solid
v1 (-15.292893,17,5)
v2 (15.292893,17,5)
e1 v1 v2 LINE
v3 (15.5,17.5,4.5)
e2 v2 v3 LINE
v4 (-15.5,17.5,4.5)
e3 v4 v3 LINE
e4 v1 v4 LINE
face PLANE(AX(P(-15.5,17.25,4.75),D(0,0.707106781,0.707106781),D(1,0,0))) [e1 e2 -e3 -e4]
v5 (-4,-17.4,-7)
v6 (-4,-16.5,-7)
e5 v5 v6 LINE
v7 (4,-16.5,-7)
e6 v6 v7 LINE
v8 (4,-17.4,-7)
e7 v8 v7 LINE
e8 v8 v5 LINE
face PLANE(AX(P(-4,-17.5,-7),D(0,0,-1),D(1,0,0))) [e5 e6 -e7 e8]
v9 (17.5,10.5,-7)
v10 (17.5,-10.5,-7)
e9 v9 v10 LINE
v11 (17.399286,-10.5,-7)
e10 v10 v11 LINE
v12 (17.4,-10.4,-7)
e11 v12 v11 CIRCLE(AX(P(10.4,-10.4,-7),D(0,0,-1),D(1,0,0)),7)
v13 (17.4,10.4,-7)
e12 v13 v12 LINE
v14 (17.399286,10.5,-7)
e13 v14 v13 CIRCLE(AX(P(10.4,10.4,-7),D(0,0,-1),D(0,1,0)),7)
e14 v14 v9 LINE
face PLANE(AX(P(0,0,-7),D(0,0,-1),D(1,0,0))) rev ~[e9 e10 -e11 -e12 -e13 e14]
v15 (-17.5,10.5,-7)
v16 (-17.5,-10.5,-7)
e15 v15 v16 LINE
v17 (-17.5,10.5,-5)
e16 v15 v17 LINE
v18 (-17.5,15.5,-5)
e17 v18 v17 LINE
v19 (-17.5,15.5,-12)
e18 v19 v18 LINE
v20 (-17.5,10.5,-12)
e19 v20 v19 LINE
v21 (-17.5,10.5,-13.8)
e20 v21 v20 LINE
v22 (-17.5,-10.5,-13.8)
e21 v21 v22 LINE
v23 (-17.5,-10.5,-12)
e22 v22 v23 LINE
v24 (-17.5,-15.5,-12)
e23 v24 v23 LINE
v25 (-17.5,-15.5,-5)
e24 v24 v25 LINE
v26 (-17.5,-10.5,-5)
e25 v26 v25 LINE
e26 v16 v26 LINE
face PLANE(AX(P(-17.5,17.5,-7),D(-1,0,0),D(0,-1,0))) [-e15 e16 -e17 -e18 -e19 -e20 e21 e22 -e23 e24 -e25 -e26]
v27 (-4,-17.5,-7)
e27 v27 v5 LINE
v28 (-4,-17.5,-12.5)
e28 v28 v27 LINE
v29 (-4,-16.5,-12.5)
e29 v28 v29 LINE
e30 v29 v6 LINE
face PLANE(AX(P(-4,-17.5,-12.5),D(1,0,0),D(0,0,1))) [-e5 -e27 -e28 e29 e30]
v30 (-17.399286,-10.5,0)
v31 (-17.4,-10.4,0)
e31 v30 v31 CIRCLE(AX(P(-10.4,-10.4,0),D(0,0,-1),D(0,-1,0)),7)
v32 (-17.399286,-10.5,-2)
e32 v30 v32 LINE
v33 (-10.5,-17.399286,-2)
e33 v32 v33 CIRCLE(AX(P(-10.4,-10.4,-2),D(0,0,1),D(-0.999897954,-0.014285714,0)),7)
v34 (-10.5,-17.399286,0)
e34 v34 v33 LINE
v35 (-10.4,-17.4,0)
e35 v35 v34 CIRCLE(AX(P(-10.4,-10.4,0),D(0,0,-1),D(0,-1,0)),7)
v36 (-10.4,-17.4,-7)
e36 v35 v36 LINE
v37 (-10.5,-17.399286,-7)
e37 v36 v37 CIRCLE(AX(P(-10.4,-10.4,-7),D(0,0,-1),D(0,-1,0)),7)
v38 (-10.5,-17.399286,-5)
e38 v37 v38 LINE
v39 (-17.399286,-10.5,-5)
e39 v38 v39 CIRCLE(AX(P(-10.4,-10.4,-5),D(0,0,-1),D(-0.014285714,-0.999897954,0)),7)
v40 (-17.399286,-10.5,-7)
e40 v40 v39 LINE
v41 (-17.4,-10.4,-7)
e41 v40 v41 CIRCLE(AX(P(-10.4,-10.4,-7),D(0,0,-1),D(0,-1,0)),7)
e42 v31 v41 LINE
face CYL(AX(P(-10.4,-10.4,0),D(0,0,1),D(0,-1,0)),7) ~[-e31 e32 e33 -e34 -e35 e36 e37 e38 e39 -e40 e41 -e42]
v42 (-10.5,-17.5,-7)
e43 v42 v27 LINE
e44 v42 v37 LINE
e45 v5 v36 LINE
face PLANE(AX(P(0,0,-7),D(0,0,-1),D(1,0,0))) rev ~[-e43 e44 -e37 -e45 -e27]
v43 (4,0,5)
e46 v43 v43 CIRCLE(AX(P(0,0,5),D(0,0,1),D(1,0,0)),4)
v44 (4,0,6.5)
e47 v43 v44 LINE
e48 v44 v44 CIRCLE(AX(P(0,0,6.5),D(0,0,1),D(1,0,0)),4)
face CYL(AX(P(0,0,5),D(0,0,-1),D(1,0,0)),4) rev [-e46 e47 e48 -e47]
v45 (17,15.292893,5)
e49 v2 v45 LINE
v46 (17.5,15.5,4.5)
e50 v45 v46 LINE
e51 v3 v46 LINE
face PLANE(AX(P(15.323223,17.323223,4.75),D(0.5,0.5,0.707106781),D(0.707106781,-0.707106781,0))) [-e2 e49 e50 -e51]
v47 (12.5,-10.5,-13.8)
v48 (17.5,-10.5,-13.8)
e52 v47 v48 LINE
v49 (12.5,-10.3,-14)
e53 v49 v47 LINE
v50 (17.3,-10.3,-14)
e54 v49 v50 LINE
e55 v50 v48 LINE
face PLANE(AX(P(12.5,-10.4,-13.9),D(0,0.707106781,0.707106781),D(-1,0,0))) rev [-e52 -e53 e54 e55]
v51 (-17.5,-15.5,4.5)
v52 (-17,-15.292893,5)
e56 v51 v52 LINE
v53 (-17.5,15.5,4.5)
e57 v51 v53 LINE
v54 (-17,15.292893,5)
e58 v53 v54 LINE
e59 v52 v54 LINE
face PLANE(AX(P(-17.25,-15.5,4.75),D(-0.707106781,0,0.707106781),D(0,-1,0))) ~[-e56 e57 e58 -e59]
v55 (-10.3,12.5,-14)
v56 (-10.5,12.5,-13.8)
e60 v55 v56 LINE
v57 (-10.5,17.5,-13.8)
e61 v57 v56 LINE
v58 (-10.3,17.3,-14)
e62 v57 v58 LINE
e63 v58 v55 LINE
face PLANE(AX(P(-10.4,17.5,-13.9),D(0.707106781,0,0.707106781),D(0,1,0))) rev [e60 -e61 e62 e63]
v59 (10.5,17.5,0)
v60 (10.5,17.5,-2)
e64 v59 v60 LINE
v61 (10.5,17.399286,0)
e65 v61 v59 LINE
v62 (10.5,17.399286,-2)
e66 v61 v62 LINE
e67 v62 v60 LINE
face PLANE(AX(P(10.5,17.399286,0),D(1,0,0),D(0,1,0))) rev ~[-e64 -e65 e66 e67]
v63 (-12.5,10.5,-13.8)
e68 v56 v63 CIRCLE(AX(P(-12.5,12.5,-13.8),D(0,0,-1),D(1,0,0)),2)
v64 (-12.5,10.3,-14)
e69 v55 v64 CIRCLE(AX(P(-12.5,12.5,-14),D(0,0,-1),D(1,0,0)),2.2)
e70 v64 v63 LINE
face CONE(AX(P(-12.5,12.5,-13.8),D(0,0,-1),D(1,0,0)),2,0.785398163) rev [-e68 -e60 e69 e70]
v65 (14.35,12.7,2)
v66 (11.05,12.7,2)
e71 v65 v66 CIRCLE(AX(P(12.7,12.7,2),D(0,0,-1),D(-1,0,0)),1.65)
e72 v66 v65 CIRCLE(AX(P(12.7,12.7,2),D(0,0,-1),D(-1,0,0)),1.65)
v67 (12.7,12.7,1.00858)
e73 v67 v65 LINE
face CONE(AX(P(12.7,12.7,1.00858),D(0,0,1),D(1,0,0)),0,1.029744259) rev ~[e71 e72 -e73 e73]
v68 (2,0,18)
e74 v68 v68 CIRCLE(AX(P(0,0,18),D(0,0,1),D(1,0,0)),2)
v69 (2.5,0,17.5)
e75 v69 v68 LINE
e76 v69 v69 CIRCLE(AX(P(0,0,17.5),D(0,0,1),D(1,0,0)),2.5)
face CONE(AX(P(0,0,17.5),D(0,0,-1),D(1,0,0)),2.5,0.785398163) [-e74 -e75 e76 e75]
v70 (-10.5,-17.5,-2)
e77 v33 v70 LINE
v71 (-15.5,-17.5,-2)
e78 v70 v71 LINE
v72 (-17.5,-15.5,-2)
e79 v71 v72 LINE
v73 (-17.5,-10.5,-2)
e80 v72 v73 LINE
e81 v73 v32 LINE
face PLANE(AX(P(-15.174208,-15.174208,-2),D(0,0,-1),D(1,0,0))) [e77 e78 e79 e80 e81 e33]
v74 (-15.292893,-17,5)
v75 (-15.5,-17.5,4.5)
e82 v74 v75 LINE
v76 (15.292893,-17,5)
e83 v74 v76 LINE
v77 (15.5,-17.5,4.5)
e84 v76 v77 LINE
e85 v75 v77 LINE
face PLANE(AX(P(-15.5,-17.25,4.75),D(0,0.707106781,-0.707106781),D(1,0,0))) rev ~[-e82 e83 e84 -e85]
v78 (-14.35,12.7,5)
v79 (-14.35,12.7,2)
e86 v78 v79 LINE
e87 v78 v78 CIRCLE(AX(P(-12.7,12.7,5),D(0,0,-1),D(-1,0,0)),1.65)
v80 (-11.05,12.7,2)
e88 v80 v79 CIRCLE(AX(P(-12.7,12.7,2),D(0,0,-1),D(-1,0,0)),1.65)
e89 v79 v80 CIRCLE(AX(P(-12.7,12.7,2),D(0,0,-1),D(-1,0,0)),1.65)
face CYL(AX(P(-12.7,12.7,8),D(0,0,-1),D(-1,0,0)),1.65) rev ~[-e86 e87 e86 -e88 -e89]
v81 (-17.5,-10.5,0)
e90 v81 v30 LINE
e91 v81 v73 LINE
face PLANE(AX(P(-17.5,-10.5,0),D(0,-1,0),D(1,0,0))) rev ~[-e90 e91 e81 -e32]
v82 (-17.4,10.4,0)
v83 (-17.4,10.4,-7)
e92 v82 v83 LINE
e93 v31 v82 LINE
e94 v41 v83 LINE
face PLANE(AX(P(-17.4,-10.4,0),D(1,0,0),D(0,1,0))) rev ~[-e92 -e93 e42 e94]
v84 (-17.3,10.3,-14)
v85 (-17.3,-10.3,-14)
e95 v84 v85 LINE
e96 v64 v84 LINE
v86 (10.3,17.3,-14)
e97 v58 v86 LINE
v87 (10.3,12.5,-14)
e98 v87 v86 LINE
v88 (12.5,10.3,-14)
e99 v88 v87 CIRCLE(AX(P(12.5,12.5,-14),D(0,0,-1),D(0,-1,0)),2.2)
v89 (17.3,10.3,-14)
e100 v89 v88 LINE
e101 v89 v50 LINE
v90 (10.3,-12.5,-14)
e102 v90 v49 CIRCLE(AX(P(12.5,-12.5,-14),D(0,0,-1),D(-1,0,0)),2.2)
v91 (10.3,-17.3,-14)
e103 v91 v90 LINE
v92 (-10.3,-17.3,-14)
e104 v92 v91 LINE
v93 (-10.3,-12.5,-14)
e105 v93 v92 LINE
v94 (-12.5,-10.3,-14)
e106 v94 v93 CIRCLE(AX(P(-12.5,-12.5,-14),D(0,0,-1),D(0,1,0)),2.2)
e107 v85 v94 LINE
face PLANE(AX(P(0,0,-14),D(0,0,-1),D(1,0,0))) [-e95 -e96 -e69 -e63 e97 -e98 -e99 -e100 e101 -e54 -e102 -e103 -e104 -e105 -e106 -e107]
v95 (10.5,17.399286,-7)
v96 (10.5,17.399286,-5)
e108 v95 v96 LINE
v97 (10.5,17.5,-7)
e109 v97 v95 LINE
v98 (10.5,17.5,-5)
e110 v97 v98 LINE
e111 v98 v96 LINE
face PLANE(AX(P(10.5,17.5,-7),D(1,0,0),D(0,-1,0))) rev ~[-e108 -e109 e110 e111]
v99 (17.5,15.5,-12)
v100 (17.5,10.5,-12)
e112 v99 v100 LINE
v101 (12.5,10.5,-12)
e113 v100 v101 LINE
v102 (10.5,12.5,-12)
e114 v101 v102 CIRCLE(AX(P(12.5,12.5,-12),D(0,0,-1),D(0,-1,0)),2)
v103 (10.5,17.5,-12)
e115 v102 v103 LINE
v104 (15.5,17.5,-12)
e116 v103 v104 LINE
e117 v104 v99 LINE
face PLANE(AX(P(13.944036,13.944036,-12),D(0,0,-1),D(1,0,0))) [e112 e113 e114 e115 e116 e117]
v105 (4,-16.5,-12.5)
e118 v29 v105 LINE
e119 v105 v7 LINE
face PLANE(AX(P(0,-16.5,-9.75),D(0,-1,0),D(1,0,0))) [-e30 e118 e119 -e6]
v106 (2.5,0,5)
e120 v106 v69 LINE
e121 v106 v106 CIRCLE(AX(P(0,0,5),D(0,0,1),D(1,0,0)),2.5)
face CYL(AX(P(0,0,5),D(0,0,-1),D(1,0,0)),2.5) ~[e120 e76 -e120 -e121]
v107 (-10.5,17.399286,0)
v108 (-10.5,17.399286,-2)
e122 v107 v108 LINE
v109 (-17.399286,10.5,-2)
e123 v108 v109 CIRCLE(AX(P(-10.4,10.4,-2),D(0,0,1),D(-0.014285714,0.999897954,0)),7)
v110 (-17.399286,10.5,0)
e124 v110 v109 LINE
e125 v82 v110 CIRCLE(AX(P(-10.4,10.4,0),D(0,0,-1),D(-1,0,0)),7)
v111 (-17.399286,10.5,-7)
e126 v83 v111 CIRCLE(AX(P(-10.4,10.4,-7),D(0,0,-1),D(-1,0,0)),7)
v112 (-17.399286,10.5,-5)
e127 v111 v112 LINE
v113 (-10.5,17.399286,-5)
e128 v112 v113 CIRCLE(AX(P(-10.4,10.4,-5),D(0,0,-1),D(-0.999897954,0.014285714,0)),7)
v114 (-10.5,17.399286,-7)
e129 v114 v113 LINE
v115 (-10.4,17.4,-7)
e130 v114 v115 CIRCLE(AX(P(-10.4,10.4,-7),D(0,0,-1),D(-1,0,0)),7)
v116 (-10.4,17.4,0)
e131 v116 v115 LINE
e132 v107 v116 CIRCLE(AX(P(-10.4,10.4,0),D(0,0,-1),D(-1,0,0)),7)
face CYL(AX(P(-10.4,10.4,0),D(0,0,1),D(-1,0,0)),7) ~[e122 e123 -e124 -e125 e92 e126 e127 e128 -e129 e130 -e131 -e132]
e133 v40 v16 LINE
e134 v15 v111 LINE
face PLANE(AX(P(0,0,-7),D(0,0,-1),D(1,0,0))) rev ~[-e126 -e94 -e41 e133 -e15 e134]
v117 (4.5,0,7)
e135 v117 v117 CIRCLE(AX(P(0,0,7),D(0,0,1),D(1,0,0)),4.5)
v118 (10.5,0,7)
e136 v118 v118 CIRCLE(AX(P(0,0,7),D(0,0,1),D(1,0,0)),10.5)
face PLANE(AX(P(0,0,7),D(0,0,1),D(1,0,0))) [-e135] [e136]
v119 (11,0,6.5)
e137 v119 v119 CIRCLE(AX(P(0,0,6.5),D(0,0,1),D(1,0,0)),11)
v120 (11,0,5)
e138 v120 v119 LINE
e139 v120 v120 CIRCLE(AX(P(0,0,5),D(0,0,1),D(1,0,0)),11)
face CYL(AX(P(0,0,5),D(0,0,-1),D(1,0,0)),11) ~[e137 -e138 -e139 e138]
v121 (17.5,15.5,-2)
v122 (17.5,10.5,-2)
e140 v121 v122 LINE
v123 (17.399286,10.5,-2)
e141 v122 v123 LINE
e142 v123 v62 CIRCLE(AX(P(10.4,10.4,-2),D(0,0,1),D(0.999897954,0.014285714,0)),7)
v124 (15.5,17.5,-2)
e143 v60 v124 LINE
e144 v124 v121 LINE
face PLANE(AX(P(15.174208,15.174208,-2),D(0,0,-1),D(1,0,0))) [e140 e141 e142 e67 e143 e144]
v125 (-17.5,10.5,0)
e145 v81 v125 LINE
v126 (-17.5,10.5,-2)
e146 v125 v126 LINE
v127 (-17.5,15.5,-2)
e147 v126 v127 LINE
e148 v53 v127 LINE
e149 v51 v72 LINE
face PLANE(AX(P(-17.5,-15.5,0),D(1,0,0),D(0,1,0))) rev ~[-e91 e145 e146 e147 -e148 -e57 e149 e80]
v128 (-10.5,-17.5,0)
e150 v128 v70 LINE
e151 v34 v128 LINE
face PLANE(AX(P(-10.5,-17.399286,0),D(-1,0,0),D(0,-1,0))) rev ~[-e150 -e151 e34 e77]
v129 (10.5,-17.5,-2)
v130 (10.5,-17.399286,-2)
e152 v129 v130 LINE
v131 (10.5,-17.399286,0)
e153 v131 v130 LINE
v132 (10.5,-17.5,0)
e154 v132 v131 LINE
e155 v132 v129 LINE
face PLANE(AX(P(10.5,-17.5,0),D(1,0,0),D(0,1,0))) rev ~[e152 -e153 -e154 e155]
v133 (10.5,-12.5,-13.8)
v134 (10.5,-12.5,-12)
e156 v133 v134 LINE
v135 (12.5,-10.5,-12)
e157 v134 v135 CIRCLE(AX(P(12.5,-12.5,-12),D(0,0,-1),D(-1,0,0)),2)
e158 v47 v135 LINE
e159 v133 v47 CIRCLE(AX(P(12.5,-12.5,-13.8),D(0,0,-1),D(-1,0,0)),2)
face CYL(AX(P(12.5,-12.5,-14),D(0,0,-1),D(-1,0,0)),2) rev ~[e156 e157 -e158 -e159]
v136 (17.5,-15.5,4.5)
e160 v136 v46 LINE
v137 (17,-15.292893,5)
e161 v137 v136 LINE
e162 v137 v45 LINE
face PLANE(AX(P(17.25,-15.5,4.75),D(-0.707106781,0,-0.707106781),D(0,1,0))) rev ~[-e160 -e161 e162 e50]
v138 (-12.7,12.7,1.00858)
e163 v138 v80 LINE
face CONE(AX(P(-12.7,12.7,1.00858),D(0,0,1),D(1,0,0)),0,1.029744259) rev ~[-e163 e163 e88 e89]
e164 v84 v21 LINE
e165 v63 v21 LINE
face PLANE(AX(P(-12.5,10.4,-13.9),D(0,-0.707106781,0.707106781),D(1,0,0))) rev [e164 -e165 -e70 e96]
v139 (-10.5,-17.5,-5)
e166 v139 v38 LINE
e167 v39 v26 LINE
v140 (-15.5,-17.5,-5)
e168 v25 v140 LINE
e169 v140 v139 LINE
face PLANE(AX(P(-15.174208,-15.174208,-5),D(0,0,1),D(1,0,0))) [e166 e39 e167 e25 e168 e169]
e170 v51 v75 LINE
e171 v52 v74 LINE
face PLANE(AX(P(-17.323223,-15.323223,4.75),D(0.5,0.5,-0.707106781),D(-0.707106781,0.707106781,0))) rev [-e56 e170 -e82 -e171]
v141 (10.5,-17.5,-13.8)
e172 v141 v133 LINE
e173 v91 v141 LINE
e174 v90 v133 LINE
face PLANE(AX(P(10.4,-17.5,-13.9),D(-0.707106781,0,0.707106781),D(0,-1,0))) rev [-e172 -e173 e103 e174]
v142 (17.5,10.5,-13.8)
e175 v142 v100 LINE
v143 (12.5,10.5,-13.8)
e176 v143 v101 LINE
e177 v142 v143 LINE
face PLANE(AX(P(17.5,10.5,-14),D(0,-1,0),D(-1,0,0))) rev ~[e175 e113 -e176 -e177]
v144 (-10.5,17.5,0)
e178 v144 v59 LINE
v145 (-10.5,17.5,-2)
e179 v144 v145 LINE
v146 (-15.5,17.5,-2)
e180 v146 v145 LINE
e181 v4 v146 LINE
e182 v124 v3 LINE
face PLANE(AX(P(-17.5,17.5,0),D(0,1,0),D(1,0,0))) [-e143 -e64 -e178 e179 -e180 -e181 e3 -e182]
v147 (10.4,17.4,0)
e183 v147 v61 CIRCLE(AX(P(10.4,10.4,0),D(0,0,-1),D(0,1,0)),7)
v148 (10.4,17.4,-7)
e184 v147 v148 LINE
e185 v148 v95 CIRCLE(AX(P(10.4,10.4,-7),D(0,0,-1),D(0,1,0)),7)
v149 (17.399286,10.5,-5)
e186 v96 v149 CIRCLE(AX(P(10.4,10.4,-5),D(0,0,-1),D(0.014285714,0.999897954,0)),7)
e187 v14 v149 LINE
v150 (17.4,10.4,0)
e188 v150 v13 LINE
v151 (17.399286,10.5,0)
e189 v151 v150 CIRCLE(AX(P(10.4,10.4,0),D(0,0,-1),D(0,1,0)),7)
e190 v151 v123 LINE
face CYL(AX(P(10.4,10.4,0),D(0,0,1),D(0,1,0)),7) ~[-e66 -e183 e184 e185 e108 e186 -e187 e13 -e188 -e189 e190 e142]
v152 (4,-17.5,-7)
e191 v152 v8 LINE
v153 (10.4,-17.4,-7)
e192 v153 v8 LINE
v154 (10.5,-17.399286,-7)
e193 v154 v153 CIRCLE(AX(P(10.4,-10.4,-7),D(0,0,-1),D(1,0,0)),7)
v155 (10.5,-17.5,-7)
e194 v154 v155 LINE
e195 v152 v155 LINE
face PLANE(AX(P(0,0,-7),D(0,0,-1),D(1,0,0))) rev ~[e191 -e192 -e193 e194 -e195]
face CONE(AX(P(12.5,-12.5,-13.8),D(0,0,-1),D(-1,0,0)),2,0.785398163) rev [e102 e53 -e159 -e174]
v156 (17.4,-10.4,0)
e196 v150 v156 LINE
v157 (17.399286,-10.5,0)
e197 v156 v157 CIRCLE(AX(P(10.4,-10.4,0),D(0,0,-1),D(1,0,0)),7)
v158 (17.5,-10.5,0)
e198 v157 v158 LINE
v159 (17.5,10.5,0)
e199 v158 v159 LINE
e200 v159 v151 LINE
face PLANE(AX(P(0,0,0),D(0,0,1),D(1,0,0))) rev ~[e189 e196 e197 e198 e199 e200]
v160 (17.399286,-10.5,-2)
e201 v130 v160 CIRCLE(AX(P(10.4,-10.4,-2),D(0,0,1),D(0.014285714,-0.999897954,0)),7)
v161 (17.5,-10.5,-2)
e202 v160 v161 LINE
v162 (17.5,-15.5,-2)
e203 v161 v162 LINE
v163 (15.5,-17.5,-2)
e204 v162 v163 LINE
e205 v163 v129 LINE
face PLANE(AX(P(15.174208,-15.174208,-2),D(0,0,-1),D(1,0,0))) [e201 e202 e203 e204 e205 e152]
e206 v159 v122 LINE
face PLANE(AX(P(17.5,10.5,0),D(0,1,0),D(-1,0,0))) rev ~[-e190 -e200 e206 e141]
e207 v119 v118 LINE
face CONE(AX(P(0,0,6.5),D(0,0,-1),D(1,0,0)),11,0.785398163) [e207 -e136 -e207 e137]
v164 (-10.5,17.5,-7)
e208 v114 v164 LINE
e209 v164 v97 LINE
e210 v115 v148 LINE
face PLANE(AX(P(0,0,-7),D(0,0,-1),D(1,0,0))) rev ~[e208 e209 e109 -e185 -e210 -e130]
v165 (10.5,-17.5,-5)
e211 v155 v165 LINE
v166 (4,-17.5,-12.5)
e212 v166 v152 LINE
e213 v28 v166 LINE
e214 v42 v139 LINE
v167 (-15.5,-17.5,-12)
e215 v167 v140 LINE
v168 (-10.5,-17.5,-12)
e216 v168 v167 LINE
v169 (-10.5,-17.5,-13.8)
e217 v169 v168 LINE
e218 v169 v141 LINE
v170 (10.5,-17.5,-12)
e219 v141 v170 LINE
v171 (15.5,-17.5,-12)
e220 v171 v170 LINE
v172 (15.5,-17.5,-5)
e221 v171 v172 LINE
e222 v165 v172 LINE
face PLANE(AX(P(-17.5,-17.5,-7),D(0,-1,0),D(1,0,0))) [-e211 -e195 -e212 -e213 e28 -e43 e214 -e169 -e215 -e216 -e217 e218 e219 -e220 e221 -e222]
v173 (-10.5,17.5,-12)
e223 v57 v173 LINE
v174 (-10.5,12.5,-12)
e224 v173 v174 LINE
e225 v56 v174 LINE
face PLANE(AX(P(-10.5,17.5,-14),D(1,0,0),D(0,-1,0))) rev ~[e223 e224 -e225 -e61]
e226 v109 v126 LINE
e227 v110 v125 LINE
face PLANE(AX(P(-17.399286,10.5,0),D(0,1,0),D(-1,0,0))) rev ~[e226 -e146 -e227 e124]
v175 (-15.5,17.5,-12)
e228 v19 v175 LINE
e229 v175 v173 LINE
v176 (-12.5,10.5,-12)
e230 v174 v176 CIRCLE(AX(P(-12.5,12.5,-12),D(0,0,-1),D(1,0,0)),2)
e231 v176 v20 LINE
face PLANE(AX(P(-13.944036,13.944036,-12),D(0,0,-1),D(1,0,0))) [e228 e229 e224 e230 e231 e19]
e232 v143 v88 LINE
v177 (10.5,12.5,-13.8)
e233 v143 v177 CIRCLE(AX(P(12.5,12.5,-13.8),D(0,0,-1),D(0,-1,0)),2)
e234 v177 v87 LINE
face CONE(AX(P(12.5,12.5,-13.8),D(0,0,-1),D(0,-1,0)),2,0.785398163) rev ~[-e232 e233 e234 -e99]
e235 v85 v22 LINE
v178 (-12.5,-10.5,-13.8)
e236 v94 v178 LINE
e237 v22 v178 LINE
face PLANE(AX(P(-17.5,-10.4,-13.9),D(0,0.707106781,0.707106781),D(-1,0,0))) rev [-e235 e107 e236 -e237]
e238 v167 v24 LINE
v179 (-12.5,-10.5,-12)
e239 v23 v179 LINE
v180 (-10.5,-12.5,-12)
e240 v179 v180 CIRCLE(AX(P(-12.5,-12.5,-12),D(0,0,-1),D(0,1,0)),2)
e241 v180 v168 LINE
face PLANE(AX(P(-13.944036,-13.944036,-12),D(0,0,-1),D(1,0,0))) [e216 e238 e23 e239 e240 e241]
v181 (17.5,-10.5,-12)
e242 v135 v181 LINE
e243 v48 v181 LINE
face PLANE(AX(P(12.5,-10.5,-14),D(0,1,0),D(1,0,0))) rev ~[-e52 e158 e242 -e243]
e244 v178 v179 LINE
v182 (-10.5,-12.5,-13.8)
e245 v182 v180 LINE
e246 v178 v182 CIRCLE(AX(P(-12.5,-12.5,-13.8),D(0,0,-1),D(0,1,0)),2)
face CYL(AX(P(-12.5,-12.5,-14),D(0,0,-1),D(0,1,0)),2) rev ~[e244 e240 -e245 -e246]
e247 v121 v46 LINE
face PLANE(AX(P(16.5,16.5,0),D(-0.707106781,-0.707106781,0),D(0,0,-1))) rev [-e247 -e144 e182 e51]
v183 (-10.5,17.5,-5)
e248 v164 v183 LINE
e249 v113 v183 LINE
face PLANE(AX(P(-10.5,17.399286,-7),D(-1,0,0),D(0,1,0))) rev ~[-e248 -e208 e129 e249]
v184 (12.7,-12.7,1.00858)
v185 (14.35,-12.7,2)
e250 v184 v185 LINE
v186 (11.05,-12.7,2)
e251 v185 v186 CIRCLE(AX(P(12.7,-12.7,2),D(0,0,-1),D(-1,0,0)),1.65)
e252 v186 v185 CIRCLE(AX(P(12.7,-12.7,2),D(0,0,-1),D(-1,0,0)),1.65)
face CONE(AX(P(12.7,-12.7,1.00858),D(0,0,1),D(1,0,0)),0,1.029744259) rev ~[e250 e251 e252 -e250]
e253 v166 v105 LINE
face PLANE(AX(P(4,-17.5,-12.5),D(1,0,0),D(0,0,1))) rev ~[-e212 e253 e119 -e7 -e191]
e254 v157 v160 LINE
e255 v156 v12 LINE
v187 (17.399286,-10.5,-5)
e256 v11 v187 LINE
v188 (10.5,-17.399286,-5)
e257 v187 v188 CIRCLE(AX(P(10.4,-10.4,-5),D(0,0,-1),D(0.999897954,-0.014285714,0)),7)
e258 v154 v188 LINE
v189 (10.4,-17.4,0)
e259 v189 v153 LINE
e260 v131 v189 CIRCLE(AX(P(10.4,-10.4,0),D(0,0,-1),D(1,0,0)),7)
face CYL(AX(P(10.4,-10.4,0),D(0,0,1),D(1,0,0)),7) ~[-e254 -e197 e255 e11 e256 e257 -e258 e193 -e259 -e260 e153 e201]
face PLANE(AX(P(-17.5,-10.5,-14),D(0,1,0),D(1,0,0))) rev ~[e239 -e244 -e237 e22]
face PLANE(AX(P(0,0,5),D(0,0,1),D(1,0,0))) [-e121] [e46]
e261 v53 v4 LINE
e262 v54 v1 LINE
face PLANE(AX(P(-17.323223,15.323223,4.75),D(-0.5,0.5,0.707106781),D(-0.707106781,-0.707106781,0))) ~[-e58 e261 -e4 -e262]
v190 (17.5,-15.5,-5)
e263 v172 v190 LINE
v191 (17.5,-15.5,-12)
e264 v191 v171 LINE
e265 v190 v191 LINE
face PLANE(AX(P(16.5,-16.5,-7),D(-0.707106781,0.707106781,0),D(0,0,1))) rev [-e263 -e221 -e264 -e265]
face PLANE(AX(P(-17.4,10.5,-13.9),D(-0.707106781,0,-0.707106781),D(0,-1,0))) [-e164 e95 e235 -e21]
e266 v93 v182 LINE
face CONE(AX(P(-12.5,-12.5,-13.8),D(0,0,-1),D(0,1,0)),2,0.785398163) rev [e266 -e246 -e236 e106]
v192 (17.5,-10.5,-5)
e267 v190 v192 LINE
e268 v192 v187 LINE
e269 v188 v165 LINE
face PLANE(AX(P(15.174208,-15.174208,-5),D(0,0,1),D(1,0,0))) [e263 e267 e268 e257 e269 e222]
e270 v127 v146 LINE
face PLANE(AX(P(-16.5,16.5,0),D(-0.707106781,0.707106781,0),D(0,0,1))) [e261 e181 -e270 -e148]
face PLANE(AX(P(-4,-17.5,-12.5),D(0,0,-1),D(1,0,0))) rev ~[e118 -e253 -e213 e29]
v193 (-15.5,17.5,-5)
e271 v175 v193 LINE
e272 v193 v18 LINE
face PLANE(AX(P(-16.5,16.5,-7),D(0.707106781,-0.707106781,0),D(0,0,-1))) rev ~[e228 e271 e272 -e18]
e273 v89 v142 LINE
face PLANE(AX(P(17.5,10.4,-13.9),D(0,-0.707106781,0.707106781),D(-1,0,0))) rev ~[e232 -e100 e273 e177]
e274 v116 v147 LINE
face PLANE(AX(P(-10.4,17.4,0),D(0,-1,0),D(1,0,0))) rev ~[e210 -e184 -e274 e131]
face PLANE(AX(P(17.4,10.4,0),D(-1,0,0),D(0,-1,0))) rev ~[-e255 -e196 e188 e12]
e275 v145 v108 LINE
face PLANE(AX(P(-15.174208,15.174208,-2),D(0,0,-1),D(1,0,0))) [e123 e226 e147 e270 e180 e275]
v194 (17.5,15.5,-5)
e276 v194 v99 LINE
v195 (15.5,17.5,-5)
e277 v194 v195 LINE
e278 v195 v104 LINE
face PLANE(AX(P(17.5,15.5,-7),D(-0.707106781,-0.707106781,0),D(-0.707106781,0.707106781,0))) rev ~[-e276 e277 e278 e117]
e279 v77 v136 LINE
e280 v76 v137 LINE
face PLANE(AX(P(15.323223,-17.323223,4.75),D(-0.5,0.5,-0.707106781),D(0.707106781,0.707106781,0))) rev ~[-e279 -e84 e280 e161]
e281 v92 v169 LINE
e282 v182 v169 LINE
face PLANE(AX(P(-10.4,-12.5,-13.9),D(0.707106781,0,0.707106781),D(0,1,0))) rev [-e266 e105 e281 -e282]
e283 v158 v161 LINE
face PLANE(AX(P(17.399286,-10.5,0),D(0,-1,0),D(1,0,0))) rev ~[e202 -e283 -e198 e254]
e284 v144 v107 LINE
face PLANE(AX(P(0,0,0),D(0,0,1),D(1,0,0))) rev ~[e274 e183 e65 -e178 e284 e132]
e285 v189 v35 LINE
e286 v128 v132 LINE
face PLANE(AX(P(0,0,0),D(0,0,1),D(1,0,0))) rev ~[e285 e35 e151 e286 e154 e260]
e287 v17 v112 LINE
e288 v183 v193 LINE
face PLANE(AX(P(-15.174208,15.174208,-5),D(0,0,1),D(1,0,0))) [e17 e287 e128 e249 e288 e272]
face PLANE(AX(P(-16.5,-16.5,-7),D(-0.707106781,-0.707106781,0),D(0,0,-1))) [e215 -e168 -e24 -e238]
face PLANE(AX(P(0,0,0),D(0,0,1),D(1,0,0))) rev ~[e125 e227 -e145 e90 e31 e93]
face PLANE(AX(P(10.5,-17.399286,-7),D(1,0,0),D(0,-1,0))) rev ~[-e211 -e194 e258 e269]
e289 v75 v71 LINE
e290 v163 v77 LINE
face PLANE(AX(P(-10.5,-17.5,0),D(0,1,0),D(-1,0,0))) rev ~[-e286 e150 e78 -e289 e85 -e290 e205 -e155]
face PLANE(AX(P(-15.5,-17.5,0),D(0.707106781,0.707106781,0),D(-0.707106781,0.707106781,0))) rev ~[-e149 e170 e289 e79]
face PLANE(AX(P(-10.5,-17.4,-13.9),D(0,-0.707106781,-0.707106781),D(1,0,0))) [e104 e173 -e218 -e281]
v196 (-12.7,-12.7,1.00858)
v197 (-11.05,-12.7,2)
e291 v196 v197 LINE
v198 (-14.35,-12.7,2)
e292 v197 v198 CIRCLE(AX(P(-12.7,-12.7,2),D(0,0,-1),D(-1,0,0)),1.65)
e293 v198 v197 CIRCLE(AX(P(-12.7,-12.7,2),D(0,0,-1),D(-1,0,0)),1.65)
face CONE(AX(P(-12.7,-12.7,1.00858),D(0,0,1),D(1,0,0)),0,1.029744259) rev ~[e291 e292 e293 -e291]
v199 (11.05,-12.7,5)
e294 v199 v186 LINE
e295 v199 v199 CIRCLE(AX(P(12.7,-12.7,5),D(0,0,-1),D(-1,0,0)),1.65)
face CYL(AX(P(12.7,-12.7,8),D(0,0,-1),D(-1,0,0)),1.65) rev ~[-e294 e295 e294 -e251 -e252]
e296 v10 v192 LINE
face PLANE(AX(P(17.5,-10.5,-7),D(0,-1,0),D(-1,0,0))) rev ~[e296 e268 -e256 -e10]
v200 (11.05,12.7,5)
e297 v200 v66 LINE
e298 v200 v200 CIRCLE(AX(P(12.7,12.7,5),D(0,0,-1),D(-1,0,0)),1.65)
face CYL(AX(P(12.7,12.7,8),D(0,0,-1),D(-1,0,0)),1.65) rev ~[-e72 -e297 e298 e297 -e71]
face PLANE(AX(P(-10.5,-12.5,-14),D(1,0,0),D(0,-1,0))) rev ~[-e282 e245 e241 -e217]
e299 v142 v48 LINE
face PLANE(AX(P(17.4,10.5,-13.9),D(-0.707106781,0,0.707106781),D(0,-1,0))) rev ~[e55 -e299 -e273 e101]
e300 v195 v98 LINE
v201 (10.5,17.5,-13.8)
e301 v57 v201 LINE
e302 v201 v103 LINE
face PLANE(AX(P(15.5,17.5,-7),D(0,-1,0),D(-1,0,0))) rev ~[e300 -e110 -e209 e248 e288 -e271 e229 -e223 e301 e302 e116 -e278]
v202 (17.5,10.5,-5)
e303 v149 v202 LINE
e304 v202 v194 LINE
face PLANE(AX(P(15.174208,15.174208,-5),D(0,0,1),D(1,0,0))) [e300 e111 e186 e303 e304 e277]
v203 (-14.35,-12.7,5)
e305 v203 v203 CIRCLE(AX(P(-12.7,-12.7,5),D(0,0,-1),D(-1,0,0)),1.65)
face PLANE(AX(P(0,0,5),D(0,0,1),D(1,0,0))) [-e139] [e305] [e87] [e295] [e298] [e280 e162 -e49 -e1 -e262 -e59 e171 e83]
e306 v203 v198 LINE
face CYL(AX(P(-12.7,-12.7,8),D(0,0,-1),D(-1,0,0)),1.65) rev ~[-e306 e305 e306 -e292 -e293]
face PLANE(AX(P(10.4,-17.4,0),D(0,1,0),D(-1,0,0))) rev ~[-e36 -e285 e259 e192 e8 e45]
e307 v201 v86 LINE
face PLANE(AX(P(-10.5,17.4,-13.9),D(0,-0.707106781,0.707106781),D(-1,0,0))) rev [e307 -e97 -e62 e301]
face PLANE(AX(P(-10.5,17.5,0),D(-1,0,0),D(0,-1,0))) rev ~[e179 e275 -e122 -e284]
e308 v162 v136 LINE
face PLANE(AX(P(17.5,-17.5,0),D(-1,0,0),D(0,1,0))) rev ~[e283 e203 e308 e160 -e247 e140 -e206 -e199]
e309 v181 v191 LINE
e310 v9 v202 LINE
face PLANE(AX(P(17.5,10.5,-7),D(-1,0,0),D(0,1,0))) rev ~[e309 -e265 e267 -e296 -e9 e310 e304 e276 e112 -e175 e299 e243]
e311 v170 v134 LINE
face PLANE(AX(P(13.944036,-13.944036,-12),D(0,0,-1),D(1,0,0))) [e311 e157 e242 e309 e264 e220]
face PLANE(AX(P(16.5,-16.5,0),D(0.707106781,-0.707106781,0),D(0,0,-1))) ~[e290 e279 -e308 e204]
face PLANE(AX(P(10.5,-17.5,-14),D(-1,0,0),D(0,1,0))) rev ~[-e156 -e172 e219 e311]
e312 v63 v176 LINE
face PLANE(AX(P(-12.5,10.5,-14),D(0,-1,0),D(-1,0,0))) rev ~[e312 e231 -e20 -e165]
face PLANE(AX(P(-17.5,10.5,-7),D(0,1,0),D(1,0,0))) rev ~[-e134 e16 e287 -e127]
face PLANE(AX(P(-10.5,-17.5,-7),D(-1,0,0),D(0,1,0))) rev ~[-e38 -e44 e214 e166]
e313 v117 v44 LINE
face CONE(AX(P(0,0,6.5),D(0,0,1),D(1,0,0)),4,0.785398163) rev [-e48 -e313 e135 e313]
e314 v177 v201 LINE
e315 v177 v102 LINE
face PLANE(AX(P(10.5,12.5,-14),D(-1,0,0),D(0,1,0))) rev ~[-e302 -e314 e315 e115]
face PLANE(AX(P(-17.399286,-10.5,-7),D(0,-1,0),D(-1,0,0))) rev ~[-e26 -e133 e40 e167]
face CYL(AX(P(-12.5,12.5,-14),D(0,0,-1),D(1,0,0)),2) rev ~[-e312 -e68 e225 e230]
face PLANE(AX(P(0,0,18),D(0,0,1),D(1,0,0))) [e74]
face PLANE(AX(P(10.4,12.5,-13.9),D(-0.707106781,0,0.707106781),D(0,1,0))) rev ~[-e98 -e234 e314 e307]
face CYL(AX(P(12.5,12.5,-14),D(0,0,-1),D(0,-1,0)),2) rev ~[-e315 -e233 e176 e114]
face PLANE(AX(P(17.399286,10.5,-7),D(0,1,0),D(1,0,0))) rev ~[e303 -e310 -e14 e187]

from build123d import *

# Parameters (mm, degrees)
F0_W      = 35
F0_H      = 35
F1_DEPTH  = 5
F2_R      = 11
F2_R_2    = 4
F3_DEPTH  = 2
F4_SIZE   = 2
F5_R      = 2.5
F6_DEPTH  = 13
F8_D      = 3.3
F8_DEPTH  = 3
F8_TIP    = 0.9914200214
F9_SIZE   = 0.5
F11_DEPTH = 7
F13_DEPTH = 2
F14_W     = 35
F14_H     = 35
F15_DEPTH = 7
F16_SIZE  = 2
F18_DEPTH = 2
F19_W     = 8
F19_H     = 5.5
F20_DEPTH = 1
F22_DEPTH = 2
F23_SIZE  = 0.2


with BuildPart() as f1:
    # F0 (on Top) → F1 (new body)
    with BuildSketch(Plane.XY):
        Rectangle(F0_W, F0_H)
    extrude(amount=F1_DEPTH)

    # F2 (on face) → F3 (join)
    with BuildSketch(Plane.XY.offset(5)):
        Circle(F2_R)
        Circle(F2_R_2, mode=Mode.SUBTRACT)
    extrude(amount=F3_DEPTH)

    # F4
    f4_edges = [f1.edges().sort_by_distance(p)[0] for p in [
        (-17.5, 17.5, 2.5),
        (-17.5, -17.5, 2.5),
        (17.5, -17.5, 2.5),
        (17.5, 17.5, 2.5),
    ]]
    chamfer(f4_edges, length=F4_SIZE)

    # F5 (on face) → F6 (join)
    with BuildSketch(Plane.XY.offset(5)):
        Circle(F5_R)
    extrude(amount=F6_DEPTH)

    # F8
    with Locations(Plane.XY.offset(5)):
        with Locations((-12.7, -12.7), (-12.7, 12.7), (12.7, 12.7), (12.7, -12.7)):
            Hole(F8_D / 2, depth=F8_DEPTH)
            with Locations((0, 0, -(F8_DEPTH + F8_TIP / 2))):  # 118° drill point
                Cone(0, F8_D / 2, F8_TIP, mode=Mode.SUBTRACT)

    # F9
    f9_edges = [f1.edges().sort_by_distance(p)[0] for p in [
        (0, -17.5, 5),
        (-17.5, 0, 5),
        (0, 17.5, 5),
        (17.5, 0, 5),
        (16.5, -16.5, 5),
        (16.5, 16.5, 5),
        (-16.5, 16.5, 5),
        (-16.5, -16.5, 5),
        (-11, 0, 7),
        (-4, 0, 7),
        (-2.5, 0, 18),
    ]]
    chamfer(f9_edges, length=F9_SIZE)

    # F10 (on face) → F11 (join)
    with BuildSketch(Plane(origin=(0, 0, 0), x_dir=(1, 0, 0), z_dir=(0, 0, -1))):
        with BuildLine():
            Line((10.4, 17.4), (-10.4, 17.4))
            ThreePointArc((-10.4, 17.4), (-15.3497474683, 15.3497474683), (-17.4, 10.4))
            Line((-17.4, 10.4), (-17.4, -10.4))
            ThreePointArc((-17.4, -10.4), (-15.3497474683, -15.3497474683), (-10.4, -17.4))
            Line((-10.4, -17.4), (10.4, -17.4))
            ThreePointArc((10.4, -17.4), (15.3497474683, -15.3497474683), (17.4, -10.4))
            Line((17.4, -10.4), (17.4, 10.4))
            ThreePointArc((17.4, 10.4), (15.3497474683, 15.3497474683), (10.4, 17.4))
        make_face()
    extrude(amount=F11_DEPTH)

    # F12 (on face) → F13 (join)
    with BuildSketch(Plane(origin=(0, 0, 0), x_dir=(1, 0, 0), z_dir=(0, 0, -1))):
        with BuildLine():
            Line((-10.5, 17.5), (-15.5, 17.5))
            Line((-15.5, 17.5), (-17.5, 15.5))
            Line((-17.5, 15.5), (-17.5, 10.5))
            Line((-17.5, 10.5), (-17.3992856778, 10.5))
            ThreePointArc((-17.3992856778, 10.5), (-15.3497474683, 15.3497474683), (-10.5, 17.3992856778))
            Line((-10.5, 17.3992856778), (-10.5, 17.5))
        make_face()
        with BuildLine():
            Line((15.5, 17.5), (10.5, 17.5))
            Line((10.5, 17.5), (10.5, 17.3992856778))
            ThreePointArc((10.5, 17.3992856778), (15.3497474683, 15.3497474683), (17.3992856778, 10.5))
            Line((17.3992856778, 10.5), (17.5, 10.5))
            Line((17.5, 10.5), (17.5, 15.5))
            Line((17.5, 15.5), (15.5, 17.5))
        make_face()
        with BuildLine():
            Line((17.5, -15.5), (17.5, -10.5))
            Line((17.5, -10.5), (17.3992856778, -10.5))
            ThreePointArc((17.3992856778, -10.5), (15.3497474683, -15.3497474683), (10.5, -17.3992856778))
            Line((10.5, -17.3992856778), (10.5, -17.5))
            Line((10.5, -17.5), (15.5, -17.5))
            Line((15.5, -17.5), (17.5, -15.5))
        make_face()
        with BuildLine():
            Line((-17.3992856778, -10.5), (-17.5, -10.5))
            Line((-17.5, -10.5), (-17.5, -15.5))
            Line((-17.5, -15.5), (-15.5, -17.5))
            Line((-15.5, -17.5), (-10.5, -17.5))
            Line((-10.5, -17.5), (-10.5, -17.3992856778))
            ThreePointArc((-10.5, -17.3992856778), (-15.3497474683, -15.3497474683), (-17.3992856778, -10.5))
        make_face()
    extrude(amount=F13_DEPTH)

    # F14 (on face) → F15 (join)
    with BuildSketch(Plane(origin=(0, 0, -7), x_dir=(1, 0, 0), z_dir=(0, 0, -1))):
        Rectangle(F14_W, F14_H)
        with BuildLine():
            Line((-10.4, 17.4), (10.4, 17.4))
            ThreePointArc((10.4, 17.4), (15.3497474683, 15.3497474683), (17.4, 10.4))
            Line((17.4, 10.4), (17.4, -10.4))
            ThreePointArc((17.4, -10.4), (15.3497474683, -15.3497474683), (10.4, -17.4))
            Line((10.4, -17.4), (-10.4, -17.4))
            ThreePointArc((-10.4, -17.4), (-15.3497474683, -15.3497474683), (-17.4, -10.4))
            Line((-17.4, -10.4), (-17.4, 10.4))
            ThreePointArc((-17.4, 10.4), (-15.3497474683, 15.3497474683), (-10.4, 17.4))
        make_face(mode=Mode.SUBTRACT)
        with BuildLine():
            ThreePointArc((17.4, 10.4), (15.3497474683, 15.3497474683), (10.4, 17.4))
            Line((10.4, 17.4), (-10.4, 17.4))
            ThreePointArc((-10.4, 17.4), (-15.3497474683, 15.3497474683), (-17.4, 10.4))
            Line((-17.4, 10.4), (-17.4, -10.4))
            ThreePointArc((-17.4, -10.4), (-15.3497474683, -15.3497474683), (-10.4, -17.4))
            Line((-10.4, -17.4), (10.4, -17.4))
            ThreePointArc((10.4, -17.4), (15.3497474683, -15.3497474683), (17.4, -10.4))
            Line((17.4, -10.4), (17.4, 10.4))
        make_face()
    extrude(amount=F15_DEPTH)

    # F16
    f16_edges = [f1.edges().sort_by_distance(p)[0] for p in [
        (-17.5, -17.5, -10.5),
        (17.5, -17.5, -10.5),
        (17.5, 17.5, -10.5),
        (-17.5, 17.5, -10.5),
    ]]
    chamfer(f16_edges, length=F16_SIZE)

    # F17 (on face) → F18 (join)
    with BuildSketch(Plane.XY.offset(-7)):
        with BuildLine():
            Line((15.5, 17.5), (10.5, 17.5))
            Line((10.5, 17.5), (10.5, 17.3992856778))
            ThreePointArc((10.5, 17.3992856778), (15.3497474683, 15.3497474683), (17.3992856778, 10.5))
            Line((17.3992856778, 10.5), (17.5, 10.5))
            Line((17.5, 10.5), (17.5, 15.5))
            Line((17.5, 15.5), (15.5, 17.5))
        make_face()
        with BuildLine():
            Line((-10.5, 17.5), (-15.5, 17.5))
            Line((-15.5, 17.5), (-17.5, 15.5))
            Line((-17.5, 15.5), (-17.5, 10.5))
            Line((-17.5, 10.5), (-17.3992856778, 10.5))
            ThreePointArc((-17.3992856778, 10.5), (-15.3497474683, 15.3497474683), (-10.5, 17.3992856778))
            Line((-10.5, 17.3992856778), (-10.5, 17.5))
        make_face()
        with BuildLine():
            Line((-17.3992856778, -10.5), (-17.5, -10.5))
            Line((-17.5, -10.5), (-17.5, -15.5))
            Line((-17.5, -15.5), (-15.5, -17.5))
            Line((-15.5, -17.5), (-10.5, -17.5))
            Line((-10.5, -17.5), (-10.5, -17.3992856778))
            ThreePointArc((-10.5, -17.3992856778), (-15.3497474683, -15.3497474683), (-17.3992856778, -10.5))
        make_face()
        with BuildLine():
            Line((17.5, -15.5), (17.5, -10.5))
            Line((17.5, -10.5), (17.3992856778, -10.5))
            ThreePointArc((17.3992856778, -10.5), (15.3497474683, -15.3497474683), (10.5, -17.3992856778))
            Line((10.5, -17.3992856778), (10.5, -17.5))
            Line((10.5, -17.5), (15.5, -17.5))
            Line((15.5, -17.5), (17.5, -15.5))
        make_face()
    extrude(amount=F18_DEPTH)

    # F19 (on face) → F20 (cut)
    with BuildSketch(Plane.XZ.offset(17.5)):
        with Locations((0, -9.75)):
            Rectangle(F19_W, F19_H)
    extrude(amount=-F20_DEPTH, mode=Mode.SUBTRACT)

    # F21 (on face) → F22 (cut)
    with BuildSketch(Plane(origin=(0, 0, -14), x_dir=(1, 0, 0), z_dir=(0, 0, -1))):
        with BuildLine():
            Line((-17.5, 15.5), (-17.5, 10.5))
            Line((-17.5, 10.5), (-12.5, 10.5))
            ThreePointArc((-12.5, 10.5), (-11.0857864376, 11.0857864376), (-10.5, 12.5))
            Line((-10.5, 12.5), (-10.5, 17.5))
            Line((-10.5, 17.5), (-15.5, 17.5))
            Line((-15.5, 17.5), (-17.5, 15.5))
        make_face()
        with BuildLine():
            Line((15.5, 17.5), (10.5, 17.5))
            Line((10.5, 17.5), (10.5, 12.5))
            ThreePointArc((10.5, 12.5), (11.0857864376, 11.0857864376), (12.5, 10.5))
            Line((12.5, 10.5), (17.5, 10.5))
            Line((17.5, 10.5), (17.5, 15.5))
            Line((17.5, 15.5), (15.5, 17.5))
        make_face()
        with BuildLine():
            Line((10.5, -12.5), (10.5, -17.5))
            Line((10.5, -17.5), (15.5, -17.5))
            Line((15.5, -17.5), (17.5, -15.5))
            Line((17.5, -15.5), (17.5, -10.5))
            Line((17.5, -10.5), (12.5, -10.5))
            ThreePointArc((12.5, -10.5), (11.0857864376, -11.0857864376), (10.5, -12.5))
        make_face()
        with BuildLine():
            Line((-12.5, -10.5), (-17.5, -10.5))
            Line((-17.5, -10.5), (-17.5, -15.5))
            Line((-17.5, -15.5), (-15.5, -17.5))
            Line((-15.5, -17.5), (-10.5, -17.5))
            Line((-10.5, -17.5), (-10.5, -12.5))
            ThreePointArc((-10.5, -12.5), (-11.0857864376, -11.0857864376), (-12.5, -10.5))
        make_face()
    extrude(amount=-F22_DEPTH, mode=Mode.SUBTRACT)

    # F23
    f23_edges = [f1.edges().sort_by_distance(p)[0] for p in [
        (17.5, 0, -14),
        (0, -17.5, -14),
        (-17.5, 0, -14),
        (0, 17.5, -14),
        (10.5, 15, -14),
        (11.085786, 11.085786, -14),
        (15, 10.5, -14),
        (15, -10.5, -14),
        (11.085786, -11.085786, -14),
        (10.5, -15, -14),
        (-10.5, -15, -14),
        (-11.085786, -11.085786, -14),
        (-15, -10.5, -14),
        (-15, 10.5, -14),
        (-11.085786, 11.085786, -14),
        (-10.5, 15, -14),
    ]]
    chamfer(f23_edges, length=F23_SIZE)


solid = f1.part
